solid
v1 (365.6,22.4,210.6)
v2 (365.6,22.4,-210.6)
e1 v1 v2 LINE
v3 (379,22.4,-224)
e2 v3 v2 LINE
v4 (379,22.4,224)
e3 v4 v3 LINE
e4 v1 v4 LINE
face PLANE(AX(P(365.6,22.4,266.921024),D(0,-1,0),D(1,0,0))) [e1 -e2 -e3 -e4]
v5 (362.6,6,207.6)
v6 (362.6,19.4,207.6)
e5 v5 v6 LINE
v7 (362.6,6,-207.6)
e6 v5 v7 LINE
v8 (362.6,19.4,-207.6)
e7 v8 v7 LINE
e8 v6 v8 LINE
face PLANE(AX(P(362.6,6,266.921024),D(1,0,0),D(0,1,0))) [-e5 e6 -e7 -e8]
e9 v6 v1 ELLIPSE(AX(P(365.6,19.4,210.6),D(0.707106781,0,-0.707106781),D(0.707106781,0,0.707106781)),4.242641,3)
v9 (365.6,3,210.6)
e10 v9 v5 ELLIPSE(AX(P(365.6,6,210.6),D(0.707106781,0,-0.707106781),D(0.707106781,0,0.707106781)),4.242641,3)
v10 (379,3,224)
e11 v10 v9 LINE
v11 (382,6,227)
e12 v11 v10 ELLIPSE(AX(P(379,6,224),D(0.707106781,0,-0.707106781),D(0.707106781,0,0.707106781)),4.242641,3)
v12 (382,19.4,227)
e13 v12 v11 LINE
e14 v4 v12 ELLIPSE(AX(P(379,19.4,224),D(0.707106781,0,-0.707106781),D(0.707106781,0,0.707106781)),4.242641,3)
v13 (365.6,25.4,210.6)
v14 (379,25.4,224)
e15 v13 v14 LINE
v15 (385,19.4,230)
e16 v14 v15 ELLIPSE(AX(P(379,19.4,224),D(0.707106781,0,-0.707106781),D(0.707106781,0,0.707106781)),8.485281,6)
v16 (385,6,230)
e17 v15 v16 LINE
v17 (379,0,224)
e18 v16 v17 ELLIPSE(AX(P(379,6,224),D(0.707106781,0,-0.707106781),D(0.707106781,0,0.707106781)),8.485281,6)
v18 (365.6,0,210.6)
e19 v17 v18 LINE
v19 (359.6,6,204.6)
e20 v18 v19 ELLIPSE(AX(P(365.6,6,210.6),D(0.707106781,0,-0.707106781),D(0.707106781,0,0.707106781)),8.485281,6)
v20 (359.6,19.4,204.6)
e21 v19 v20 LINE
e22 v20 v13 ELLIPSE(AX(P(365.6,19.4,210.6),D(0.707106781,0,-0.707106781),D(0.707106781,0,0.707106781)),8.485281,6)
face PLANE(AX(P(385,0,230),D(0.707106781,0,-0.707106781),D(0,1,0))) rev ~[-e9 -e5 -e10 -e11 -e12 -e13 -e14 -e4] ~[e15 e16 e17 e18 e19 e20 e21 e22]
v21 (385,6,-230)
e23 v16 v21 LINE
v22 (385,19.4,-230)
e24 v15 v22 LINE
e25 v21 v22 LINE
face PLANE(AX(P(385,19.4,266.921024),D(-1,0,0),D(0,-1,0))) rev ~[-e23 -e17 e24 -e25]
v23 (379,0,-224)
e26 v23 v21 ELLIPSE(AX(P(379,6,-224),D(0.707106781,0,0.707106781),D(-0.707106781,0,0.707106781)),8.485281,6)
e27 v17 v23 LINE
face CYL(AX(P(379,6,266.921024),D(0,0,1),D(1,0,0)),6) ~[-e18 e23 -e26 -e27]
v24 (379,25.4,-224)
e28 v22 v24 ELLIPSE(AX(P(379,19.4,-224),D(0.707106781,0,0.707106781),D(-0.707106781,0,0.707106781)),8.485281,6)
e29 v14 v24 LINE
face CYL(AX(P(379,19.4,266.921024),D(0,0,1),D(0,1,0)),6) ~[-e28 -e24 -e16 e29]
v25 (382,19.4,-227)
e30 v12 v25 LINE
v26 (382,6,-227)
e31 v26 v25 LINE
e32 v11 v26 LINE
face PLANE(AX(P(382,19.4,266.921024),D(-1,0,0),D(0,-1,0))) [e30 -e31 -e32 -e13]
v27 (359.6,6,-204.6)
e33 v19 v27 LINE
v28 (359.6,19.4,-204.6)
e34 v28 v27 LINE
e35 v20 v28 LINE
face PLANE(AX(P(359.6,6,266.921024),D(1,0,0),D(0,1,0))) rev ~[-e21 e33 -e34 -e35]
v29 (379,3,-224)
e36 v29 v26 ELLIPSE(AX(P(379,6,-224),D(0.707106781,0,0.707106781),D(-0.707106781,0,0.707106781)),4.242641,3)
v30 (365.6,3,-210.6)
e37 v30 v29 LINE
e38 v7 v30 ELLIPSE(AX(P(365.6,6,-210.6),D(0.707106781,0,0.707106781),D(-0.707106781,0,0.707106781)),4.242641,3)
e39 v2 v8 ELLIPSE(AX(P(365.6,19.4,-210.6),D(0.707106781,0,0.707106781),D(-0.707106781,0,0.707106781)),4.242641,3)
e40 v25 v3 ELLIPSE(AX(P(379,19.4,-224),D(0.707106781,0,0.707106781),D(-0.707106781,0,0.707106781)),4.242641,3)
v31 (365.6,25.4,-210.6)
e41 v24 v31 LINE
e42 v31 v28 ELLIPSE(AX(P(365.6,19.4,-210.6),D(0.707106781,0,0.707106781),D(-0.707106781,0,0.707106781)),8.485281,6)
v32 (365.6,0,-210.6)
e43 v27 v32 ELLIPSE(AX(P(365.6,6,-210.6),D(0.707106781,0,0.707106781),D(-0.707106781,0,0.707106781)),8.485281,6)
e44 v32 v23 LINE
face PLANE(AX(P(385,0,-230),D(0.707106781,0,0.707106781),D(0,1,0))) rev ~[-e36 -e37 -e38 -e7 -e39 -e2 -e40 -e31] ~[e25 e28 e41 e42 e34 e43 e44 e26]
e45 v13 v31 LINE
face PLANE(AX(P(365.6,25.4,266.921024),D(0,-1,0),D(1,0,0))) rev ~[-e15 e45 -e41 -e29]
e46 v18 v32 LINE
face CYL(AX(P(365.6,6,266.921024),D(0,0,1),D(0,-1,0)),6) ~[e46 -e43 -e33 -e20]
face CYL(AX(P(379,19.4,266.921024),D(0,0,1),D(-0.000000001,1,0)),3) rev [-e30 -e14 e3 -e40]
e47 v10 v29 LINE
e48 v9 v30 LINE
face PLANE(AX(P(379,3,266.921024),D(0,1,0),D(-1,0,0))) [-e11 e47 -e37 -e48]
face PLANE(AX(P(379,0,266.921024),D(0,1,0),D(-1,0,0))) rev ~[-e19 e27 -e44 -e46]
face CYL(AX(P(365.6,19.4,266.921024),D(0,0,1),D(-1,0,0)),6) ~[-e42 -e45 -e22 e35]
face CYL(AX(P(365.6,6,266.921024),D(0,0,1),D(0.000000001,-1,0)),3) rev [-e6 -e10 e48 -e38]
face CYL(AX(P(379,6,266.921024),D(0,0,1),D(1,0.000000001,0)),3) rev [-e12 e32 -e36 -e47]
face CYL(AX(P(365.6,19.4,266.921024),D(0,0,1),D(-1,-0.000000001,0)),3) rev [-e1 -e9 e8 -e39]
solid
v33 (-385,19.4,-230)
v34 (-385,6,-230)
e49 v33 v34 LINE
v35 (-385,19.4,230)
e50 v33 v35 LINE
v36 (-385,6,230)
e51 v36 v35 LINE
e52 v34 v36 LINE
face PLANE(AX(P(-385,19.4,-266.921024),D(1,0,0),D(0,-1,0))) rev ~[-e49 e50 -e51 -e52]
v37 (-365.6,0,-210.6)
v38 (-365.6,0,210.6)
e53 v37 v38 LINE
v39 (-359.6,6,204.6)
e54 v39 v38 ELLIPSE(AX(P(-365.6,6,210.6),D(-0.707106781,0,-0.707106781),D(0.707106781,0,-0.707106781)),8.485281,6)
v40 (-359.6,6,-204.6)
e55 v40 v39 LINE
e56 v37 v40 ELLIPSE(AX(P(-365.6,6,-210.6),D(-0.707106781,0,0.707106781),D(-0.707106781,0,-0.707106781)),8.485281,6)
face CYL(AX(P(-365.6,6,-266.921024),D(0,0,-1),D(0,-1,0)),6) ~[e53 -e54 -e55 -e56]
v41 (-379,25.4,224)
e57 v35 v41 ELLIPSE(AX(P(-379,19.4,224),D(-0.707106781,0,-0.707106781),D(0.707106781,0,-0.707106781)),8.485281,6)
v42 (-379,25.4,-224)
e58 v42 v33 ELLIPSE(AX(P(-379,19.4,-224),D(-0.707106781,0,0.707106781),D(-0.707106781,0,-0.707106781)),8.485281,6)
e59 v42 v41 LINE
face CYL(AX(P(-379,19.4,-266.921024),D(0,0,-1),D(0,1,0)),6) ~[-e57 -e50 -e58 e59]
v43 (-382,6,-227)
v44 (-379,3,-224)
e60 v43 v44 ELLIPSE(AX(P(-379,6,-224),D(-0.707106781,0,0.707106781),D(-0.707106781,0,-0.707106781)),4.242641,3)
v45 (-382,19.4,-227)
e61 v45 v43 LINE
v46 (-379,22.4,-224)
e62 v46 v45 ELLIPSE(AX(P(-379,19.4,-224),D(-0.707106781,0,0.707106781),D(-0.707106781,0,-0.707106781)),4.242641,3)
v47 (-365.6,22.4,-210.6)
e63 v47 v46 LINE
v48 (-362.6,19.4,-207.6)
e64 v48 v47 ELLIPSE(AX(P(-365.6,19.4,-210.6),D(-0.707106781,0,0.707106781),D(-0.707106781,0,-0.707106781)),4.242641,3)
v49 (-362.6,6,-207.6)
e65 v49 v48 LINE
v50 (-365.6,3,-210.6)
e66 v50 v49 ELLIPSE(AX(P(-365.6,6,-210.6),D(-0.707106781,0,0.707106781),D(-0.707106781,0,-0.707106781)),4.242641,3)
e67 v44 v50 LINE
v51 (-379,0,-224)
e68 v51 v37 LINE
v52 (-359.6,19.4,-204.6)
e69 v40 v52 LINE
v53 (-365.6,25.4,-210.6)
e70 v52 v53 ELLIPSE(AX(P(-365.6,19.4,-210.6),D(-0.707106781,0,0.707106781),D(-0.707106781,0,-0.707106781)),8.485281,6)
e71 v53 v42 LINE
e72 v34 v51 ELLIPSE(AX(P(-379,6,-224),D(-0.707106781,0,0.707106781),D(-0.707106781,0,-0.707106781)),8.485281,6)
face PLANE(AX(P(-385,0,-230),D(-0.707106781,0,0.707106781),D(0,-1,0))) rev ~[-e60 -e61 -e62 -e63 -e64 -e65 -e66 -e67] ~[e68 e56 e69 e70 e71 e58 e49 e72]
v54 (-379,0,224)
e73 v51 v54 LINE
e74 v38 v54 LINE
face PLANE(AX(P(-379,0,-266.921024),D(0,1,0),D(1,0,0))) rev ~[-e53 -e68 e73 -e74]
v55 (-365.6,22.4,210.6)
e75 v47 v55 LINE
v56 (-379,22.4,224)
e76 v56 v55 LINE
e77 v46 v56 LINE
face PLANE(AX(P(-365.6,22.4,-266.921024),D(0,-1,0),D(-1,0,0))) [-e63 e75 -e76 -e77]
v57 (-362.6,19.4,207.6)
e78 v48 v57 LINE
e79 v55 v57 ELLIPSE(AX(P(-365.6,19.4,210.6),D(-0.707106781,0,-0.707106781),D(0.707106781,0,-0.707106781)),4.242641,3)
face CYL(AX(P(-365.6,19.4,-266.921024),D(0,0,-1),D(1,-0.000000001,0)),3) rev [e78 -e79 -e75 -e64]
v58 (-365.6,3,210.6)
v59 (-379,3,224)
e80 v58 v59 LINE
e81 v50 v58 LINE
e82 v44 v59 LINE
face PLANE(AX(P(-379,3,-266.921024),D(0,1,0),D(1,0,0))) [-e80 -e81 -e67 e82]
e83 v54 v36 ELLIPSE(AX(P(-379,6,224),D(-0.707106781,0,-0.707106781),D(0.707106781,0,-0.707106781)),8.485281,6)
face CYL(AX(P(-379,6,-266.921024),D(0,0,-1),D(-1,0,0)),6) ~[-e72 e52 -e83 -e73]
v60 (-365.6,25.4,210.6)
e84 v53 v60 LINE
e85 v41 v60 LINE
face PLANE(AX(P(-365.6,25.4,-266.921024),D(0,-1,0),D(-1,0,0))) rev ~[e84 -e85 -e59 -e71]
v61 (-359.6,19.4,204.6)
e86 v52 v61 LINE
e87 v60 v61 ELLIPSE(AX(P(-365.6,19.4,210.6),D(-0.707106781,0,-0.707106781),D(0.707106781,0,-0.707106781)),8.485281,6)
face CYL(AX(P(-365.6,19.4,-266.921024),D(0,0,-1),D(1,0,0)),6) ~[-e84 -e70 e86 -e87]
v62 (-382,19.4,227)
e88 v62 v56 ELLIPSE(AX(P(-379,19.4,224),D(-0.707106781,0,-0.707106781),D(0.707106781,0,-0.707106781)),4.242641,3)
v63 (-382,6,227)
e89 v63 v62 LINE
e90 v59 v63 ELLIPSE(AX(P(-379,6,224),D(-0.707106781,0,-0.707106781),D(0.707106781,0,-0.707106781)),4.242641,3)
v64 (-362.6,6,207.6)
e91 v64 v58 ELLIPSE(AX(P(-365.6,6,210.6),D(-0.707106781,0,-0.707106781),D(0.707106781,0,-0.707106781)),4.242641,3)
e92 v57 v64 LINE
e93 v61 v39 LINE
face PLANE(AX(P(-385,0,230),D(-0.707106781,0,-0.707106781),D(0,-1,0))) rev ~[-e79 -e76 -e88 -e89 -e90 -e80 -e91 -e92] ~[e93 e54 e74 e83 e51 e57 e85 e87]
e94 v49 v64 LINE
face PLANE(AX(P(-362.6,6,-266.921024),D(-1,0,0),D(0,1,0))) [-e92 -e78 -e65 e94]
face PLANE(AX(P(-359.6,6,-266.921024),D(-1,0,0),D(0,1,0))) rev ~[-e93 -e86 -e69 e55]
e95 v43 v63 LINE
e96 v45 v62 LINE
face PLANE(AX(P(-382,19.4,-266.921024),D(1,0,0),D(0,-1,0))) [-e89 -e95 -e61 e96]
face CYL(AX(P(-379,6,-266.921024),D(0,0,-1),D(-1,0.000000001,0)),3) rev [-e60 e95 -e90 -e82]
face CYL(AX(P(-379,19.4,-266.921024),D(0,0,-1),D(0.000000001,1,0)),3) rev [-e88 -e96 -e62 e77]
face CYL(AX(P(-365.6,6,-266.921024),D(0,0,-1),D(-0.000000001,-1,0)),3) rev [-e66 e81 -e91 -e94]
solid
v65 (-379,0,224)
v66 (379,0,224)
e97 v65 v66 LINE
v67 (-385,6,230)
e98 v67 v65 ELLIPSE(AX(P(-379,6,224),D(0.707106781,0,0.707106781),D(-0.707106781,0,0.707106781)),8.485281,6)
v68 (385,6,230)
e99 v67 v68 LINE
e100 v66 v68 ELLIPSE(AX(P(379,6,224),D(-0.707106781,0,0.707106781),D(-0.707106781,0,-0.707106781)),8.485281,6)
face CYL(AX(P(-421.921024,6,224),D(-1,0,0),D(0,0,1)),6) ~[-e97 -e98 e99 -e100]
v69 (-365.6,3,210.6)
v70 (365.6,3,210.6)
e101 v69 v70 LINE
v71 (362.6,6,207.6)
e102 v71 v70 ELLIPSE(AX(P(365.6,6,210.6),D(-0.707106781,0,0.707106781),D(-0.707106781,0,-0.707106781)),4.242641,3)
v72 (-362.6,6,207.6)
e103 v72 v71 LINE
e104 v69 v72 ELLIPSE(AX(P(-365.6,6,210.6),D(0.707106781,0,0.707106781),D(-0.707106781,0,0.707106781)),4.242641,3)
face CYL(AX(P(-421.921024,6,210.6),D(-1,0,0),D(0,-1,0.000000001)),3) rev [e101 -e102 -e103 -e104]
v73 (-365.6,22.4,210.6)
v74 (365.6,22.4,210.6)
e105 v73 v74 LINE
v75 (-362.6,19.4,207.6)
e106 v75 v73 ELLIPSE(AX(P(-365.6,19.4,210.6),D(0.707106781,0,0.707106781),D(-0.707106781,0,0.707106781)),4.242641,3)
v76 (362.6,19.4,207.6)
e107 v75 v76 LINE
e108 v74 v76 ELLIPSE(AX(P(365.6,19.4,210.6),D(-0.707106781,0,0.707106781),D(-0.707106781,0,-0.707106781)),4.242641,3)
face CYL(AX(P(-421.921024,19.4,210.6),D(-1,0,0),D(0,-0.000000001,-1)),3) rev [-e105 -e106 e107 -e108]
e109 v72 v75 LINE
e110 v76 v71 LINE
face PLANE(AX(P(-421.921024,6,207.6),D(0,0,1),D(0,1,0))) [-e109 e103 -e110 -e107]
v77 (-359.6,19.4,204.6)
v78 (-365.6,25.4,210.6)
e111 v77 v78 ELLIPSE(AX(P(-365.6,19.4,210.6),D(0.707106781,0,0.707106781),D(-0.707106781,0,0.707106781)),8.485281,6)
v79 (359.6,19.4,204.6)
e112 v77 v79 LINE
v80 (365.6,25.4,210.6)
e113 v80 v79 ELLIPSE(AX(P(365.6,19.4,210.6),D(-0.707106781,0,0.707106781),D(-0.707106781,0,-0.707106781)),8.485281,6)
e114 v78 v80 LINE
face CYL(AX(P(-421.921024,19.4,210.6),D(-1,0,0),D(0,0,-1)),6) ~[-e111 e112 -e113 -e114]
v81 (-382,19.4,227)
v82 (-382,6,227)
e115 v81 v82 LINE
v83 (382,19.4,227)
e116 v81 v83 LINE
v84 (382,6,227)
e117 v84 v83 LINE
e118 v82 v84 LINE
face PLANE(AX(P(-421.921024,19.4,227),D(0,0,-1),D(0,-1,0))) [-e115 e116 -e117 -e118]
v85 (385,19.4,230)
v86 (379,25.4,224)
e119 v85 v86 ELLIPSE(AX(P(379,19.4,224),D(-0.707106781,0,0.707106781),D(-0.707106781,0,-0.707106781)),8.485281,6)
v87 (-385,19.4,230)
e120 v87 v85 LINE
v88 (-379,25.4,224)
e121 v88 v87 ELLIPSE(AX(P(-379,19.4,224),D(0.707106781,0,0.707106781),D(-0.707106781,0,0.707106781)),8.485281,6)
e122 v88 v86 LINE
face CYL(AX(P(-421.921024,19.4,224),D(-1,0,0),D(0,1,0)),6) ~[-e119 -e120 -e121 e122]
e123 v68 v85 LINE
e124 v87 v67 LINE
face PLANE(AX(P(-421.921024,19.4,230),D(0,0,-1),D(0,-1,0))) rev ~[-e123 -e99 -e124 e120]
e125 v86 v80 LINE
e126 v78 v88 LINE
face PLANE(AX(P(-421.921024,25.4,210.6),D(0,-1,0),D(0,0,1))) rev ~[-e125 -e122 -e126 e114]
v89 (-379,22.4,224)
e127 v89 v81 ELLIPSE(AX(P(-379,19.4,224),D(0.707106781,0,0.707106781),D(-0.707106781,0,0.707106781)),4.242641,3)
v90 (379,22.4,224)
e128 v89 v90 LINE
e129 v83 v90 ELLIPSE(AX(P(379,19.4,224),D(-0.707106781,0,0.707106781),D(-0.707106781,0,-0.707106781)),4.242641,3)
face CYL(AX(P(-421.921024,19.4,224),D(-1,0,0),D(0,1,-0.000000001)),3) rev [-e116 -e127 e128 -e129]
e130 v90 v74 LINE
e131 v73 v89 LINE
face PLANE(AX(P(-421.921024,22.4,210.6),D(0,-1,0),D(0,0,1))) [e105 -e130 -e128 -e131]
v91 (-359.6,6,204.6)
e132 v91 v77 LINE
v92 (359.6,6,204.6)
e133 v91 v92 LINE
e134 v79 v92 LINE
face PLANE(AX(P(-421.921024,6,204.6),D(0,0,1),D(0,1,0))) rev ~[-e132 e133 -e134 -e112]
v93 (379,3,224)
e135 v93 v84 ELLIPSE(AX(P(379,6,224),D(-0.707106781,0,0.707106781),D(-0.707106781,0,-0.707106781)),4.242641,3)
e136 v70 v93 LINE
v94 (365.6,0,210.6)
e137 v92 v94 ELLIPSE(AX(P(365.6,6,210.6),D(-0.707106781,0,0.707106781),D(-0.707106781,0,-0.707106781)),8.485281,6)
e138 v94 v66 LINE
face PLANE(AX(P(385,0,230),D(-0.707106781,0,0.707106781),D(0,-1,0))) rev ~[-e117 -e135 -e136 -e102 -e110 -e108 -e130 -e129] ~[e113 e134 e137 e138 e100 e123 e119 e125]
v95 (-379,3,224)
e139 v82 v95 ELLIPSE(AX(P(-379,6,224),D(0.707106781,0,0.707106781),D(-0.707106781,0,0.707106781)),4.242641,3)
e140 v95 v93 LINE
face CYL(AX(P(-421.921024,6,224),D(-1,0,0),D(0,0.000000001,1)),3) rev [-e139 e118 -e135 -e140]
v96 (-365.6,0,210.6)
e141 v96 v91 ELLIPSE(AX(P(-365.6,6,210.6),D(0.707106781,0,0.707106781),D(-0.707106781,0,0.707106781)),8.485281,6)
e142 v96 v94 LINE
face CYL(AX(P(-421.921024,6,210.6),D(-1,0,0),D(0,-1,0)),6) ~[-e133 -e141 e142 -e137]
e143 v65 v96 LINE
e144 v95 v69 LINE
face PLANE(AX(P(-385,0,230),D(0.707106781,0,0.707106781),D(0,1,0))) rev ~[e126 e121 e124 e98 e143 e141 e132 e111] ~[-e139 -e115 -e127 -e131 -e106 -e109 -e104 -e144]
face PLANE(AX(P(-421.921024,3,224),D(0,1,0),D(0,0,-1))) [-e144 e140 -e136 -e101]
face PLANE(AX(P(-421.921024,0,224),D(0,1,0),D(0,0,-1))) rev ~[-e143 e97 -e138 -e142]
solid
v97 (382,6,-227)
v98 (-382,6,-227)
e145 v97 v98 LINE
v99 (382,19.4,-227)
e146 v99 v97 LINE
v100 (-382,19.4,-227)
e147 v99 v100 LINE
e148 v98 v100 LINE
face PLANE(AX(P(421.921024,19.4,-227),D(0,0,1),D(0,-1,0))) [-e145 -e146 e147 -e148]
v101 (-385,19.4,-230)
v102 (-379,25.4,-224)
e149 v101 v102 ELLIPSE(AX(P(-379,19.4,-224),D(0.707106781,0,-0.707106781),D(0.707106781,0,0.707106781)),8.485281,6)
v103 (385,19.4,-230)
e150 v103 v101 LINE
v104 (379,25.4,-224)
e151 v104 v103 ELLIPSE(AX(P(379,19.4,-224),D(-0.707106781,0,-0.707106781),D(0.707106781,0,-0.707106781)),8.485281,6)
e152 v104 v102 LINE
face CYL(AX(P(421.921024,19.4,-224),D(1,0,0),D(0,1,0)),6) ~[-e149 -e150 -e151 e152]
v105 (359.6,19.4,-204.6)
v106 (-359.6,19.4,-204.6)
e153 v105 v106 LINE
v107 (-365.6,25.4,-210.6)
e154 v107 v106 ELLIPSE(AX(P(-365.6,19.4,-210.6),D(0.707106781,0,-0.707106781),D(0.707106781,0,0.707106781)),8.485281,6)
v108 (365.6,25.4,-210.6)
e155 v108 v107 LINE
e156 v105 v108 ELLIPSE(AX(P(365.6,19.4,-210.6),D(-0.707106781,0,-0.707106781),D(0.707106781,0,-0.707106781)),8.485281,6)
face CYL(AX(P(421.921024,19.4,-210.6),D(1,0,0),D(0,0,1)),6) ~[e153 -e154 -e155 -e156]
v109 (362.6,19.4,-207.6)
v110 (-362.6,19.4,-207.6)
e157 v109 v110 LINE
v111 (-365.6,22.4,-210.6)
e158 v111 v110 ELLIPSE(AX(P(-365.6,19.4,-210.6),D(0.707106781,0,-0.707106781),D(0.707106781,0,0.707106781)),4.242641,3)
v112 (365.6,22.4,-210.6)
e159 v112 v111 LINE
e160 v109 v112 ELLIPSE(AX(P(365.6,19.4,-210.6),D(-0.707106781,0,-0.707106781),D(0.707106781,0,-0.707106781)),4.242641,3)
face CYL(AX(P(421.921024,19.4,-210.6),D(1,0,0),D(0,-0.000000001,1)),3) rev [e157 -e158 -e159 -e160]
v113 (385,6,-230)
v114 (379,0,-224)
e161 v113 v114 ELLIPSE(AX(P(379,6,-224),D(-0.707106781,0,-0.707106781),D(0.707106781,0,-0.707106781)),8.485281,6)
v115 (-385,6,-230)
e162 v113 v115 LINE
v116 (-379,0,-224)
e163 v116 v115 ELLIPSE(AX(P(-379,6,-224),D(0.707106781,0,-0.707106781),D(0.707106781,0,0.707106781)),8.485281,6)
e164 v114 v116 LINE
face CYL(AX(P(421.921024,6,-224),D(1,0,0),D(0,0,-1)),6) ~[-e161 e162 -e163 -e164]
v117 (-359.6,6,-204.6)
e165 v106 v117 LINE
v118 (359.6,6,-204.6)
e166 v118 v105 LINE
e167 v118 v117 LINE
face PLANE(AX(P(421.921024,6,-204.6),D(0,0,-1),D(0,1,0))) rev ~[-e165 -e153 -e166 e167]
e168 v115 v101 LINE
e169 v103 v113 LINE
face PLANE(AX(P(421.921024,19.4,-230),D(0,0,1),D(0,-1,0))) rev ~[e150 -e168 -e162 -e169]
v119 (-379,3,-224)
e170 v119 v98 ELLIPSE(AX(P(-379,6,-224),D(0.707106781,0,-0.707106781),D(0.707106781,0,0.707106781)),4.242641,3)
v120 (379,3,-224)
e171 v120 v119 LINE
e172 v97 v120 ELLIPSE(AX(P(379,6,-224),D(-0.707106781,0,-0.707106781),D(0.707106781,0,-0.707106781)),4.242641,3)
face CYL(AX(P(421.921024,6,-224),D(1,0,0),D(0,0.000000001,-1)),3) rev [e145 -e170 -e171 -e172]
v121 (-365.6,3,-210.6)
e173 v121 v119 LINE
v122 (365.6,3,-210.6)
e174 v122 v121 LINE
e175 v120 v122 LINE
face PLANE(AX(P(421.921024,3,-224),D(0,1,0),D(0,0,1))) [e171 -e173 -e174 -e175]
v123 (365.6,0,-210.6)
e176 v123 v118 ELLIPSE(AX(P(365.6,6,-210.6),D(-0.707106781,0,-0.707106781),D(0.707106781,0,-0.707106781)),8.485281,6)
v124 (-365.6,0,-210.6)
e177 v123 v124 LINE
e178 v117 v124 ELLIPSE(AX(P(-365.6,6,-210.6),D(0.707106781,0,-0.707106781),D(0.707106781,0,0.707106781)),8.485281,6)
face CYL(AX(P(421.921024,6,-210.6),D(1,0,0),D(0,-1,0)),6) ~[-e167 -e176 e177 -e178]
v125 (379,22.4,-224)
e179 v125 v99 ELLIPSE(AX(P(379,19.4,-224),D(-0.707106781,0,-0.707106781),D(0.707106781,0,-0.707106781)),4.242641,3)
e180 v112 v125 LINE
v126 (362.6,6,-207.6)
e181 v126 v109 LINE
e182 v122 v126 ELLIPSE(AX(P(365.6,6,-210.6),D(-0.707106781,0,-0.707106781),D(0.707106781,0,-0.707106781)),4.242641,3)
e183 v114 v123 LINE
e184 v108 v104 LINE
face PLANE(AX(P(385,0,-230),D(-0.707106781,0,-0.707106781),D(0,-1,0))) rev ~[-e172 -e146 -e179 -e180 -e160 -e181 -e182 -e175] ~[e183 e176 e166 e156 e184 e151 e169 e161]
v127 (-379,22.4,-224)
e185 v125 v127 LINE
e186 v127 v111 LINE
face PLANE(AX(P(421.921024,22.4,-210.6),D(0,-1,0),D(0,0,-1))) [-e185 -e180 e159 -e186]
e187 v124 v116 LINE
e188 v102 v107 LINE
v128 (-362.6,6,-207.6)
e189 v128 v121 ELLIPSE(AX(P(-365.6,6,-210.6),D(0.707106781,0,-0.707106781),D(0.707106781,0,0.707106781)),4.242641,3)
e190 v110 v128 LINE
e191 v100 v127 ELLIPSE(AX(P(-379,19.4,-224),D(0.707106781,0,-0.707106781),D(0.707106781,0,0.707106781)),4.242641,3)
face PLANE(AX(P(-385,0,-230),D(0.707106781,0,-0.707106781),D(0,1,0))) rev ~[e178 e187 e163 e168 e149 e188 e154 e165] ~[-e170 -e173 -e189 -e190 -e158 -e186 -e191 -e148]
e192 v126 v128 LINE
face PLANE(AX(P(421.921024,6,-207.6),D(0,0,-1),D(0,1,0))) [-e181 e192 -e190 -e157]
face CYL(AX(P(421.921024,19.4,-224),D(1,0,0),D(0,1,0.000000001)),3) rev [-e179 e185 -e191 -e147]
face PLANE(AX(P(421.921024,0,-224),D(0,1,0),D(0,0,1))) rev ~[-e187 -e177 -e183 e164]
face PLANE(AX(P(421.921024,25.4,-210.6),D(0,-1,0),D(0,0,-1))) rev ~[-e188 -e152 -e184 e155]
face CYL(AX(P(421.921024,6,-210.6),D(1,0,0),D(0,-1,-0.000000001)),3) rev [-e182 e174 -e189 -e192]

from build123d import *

# Parameters (mm, degrees)
TUBO_CUADRADO_2_X_2_X_0_25_1_DEPTH      = 496.921024484
TUBO_CUADRADO_2_X_2_X_0_25_1_DEPTH_BACK = 36.921024484
TUBO_CUADRADO_2_X_2_X_0_25_1_2_DEPTH    = 843.842048969
TUBO_CUADRADO_2_X_2_X_0_25_1_3_DEPTH    = 533.842048969
TUBO_CUADRADO_2_X_2_X_0_25_1_4_DEPTH    = 843.842048969


with BuildPart() as part:
    # Sketch1 → Tubo cuadrado 2 X 2 X 0.25(1) (new, two sides: drawn at the far end of the back side and taken through both)
    with BuildSketch(Plane(origin=(-372.3, 12.7, -230), x_dir=(1, 0, 0), z_dir=(0, 0, 1)).offset(-TUBO_CUADRADO_2_X_2_X_0_25_1_DEPTH_BACK)):
        with BuildLine():
            Line((-6.7, -12.7), (6.7, -12.7))
            ThreePointArc((6.7, -12.7), (10.942640687, -10.942640687), (12.7, -6.7))
            Line((12.7, -6.7), (12.7, 6.7))
            ThreePointArc((12.7, 6.7), (10.942640687, 10.942640687), (6.7, 12.7))
            Line((6.7, 12.7), (-6.7, 12.7))
            ThreePointArc((-6.7, 12.7), (-10.942640687, 10.942640687), (-12.7, 6.7))
            Line((-12.7, 6.7), (-12.7, -6.7))
            ThreePointArc((-12.7, -6.7), (-10.942640687, -10.942640687), (-6.7, -12.7))
        make_face()
        with BuildLine():
            Line((-6.7, -9.7), (6.7, -9.7))
            ThreePointArc((6.7, -9.7), (8.821320344, -8.821320344), (9.7, -6.7))
            Line((9.7, -6.7), (9.7, 6.7))
            ThreePointArc((9.7, 6.7), (8.821320344, 8.821320344), (6.7, 9.7))
            Line((6.7, 9.7), (-6.7, 9.7))
            ThreePointArc((-6.7, 9.7), (-8.821320344, 8.821320344), (-9.7, 6.7))
            Line((-9.7, 6.7), (-9.7, -6.7))
            ThreePointArc((-9.7, -6.7), (-8.821320344, -8.821320344), (-6.7, -9.7))
        make_face(mode=Mode.SUBTRACT)
    extrude(amount=TUBO_CUADRADO_2_X_2_X_0_25_1_DEPTH + TUBO_CUADRADO_2_X_2_X_0_25_1_DEPTH_BACK)

    # Tubo cuadrado 2 X 2 X 0.25(1) mitre 1
    split(bisect_by=Plane(origin=(-385, 0, -230), x_dir=(0, -1, 0), z_dir=(-0.707106781, 0, 0.707106781)), keep=Keep.TOP)

    # Tubo cuadrado 2 X 2 X 0.25(1) mitre 2
    split(bisect_by=Plane(origin=(-385, 0, 230), x_dir=(0, -1, 0), z_dir=(-0.707106781, 0, -0.707106781)), keep=Keep.TOP)


with BuildPart() as body_2:
    # Sketch1 on segment 2 (carried to segment 2) → Tubo cuadrado 2 X 2 X 0.25_1 2 (new body)
    with BuildSketch(Plane(origin=(-421.921024484, 12.7, 217.3), x_dir=(0, 0, -1), z_dir=(1, 0, 0))):
        with BuildLine():
            Line((-6.7, -12.7), (6.7, -12.7))
            ThreePointArc((6.7, -12.7), (10.942640687, -10.942640687), (12.7, -6.7))
            Line((12.7, -6.7), (12.7, 6.7))
            ThreePointArc((12.7, 6.7), (10.942640687, 10.942640687), (6.7, 12.7))
            Line((6.7, 12.7), (-6.7, 12.7))
            ThreePointArc((-6.7, 12.7), (-10.942640687, 10.942640687), (-12.7, 6.7))
            Line((-12.7, 6.7), (-12.7, -6.7))
            ThreePointArc((-12.7, -6.7), (-10.942640687, -10.942640687), (-6.7, -12.7))
        make_face()
        with BuildLine():
            Line((-6.7, -9.7), (6.7, -9.7))
            ThreePointArc((6.7, -9.7), (8.821320344, -8.821320344), (9.7, -6.7))
            Line((9.7, -6.7), (9.7, 6.7))
            ThreePointArc((9.7, 6.7), (8.821320344, 8.821320344), (6.7, 9.7))
            Line((6.7, 9.7), (-6.7, 9.7))
            ThreePointArc((-6.7, 9.7), (-8.821320344, 8.821320344), (-9.7, 6.7))
            Line((-9.7, 6.7), (-9.7, -6.7))
            ThreePointArc((-9.7, -6.7), (-8.821320344, -8.821320344), (-6.7, -9.7))
        make_face(mode=Mode.SUBTRACT)
    extrude(amount=TUBO_CUADRADO_2_X_2_X_0_25_1_2_DEPTH)

    # Tubo cuadrado 2 X 2 X 0.25_1 2 mitre 1
    split(bisect_by=Plane(origin=(-385, 0, 230), x_dir=(0, 1, 0), z_dir=(0.707106781, 0, 0.707106781)), keep=Keep.TOP)

    # Tubo cuadrado 2 X 2 X 0.25_1 2 mitre 2
    split(bisect_by=Plane(origin=(385, 0, 230), x_dir=(0, -1, 0), z_dir=(-0.707106781, 0, 0.707106781)), keep=Keep.TOP)


with BuildPart() as body_3:
    # Sketch1 on segment 3 (carried to segment 3) → Tubo cuadrado 2 X 2 X 0.25_1 3 (new body)
    with BuildSketch(Plane(origin=(372.3, 12.7, 266.921024484), x_dir=(-1, 0, 0), z_dir=(0, 0, -1))):
        with BuildLine():
            Line((-6.7, -12.7), (6.7, -12.7))
            ThreePointArc((6.7, -12.7), (10.942640687, -10.942640687), (12.7, -6.7))
            Line((12.7, -6.7), (12.7, 6.7))
            ThreePointArc((12.7, 6.7), (10.942640687, 10.942640687), (6.7, 12.7))
            Line((6.7, 12.7), (-6.7, 12.7))
            ThreePointArc((-6.7, 12.7), (-10.942640687, 10.942640687), (-12.7, 6.7))
            Line((-12.7, 6.7), (-12.7, -6.7))
            ThreePointArc((-12.7, -6.7), (-10.942640687, -10.942640687), (-6.7, -12.7))
        make_face()
        with BuildLine():
            Line((-6.7, -9.7), (6.7, -9.7))
            ThreePointArc((6.7, -9.7), (8.821320344, -8.821320344), (9.7, -6.7))
            Line((9.7, -6.7), (9.7, 6.7))
            ThreePointArc((9.7, 6.7), (8.821320344, 8.821320344), (6.7, 9.7))
            Line((6.7, 9.7), (-6.7, 9.7))
            ThreePointArc((-6.7, 9.7), (-8.821320344, 8.821320344), (-9.7, 6.7))
            Line((-9.7, 6.7), (-9.7, -6.7))
            ThreePointArc((-9.7, -6.7), (-8.821320344, -8.821320344), (-6.7, -9.7))
        make_face(mode=Mode.SUBTRACT)
    extrude(amount=TUBO_CUADRADO_2_X_2_X_0_25_1_3_DEPTH)

    # Tubo cuadrado 2 X 2 X 0.25_1 3 mitre 1
    split(bisect_by=Plane(origin=(385, 0, -230), x_dir=(0, 1, 0), z_dir=(0.707106781, 0, 0.707106781)), keep=Keep.TOP)

    # Tubo cuadrado 2 X 2 X 0.25_1 3 mitre 2
    split(bisect_by=Plane(origin=(385, 0, 230), x_dir=(0, 1, 0), z_dir=(0.707106781, 0, -0.707106781)), keep=Keep.TOP)


with BuildPart() as body_4:
    # Sketch1 on segment 4 (carried to segment 4) → Tubo cuadrado 2 X 2 X 0.25_1 4 (new body)
    with BuildSketch(Plane(origin=(421.921024484, 12.7, -217.3), x_dir=(0, 0, 1), z_dir=(-1, 0, 0))):
        with BuildLine():
            Line((-6.7, -12.7), (6.7, -12.7))
            ThreePointArc((6.7, -12.7), (10.942640687, -10.942640687), (12.7, -6.7))
            Line((12.7, -6.7), (12.7, 6.7))
            ThreePointArc((12.7, 6.7), (10.942640687, 10.942640687), (6.7, 12.7))
            Line((6.7, 12.7), (-6.7, 12.7))
            ThreePointArc((-6.7, 12.7), (-10.942640687, 10.942640687), (-12.7, 6.7))
            Line((-12.7, 6.7), (-12.7, -6.7))
            ThreePointArc((-12.7, -6.7), (-10.942640687, -10.942640687), (-6.7, -12.7))
        make_face()
        with BuildLine():
            Line((-6.7, -9.7), (6.7, -9.7))
            ThreePointArc((6.7, -9.7), (8.821320344, -8.821320344), (9.7, -6.7))
            Line((9.7, -6.7), (9.7, 6.7))
            ThreePointArc((9.7, 6.7), (8.821320344, 8.821320344), (6.7, 9.7))
            Line((6.7, 9.7), (-6.7, 9.7))
            ThreePointArc((-6.7, 9.7), (-8.821320344, 8.821320344), (-9.7, 6.7))
            Line((-9.7, 6.7), (-9.7, -6.7))
            ThreePointArc((-9.7, -6.7), (-8.821320344, -8.821320344), (-6.7, -9.7))
        make_face(mode=Mode.SUBTRACT)
    extrude(amount=TUBO_CUADRADO_2_X_2_X_0_25_1_4_DEPTH)

    # Tubo cuadrado 2 X 2 X 0.25_1 4 mitre 1
    split(bisect_by=Plane(origin=(-385, 0, -230), x_dir=(0, 1, 0), z_dir=(0.707106781, 0, -0.707106781)), keep=Keep.TOP)

    # Tubo cuadrado 2 X 2 X 0.25_1 4 mitre 2
    split(bisect_by=Plane(origin=(385, 0, -230), x_dir=(0, -1, 0), z_dir=(-0.707106781, 0, -0.707106781)), keep=Keep.TOP)


solid = Compound([part.part, body_2.part, body_3.part, body_4.part])
